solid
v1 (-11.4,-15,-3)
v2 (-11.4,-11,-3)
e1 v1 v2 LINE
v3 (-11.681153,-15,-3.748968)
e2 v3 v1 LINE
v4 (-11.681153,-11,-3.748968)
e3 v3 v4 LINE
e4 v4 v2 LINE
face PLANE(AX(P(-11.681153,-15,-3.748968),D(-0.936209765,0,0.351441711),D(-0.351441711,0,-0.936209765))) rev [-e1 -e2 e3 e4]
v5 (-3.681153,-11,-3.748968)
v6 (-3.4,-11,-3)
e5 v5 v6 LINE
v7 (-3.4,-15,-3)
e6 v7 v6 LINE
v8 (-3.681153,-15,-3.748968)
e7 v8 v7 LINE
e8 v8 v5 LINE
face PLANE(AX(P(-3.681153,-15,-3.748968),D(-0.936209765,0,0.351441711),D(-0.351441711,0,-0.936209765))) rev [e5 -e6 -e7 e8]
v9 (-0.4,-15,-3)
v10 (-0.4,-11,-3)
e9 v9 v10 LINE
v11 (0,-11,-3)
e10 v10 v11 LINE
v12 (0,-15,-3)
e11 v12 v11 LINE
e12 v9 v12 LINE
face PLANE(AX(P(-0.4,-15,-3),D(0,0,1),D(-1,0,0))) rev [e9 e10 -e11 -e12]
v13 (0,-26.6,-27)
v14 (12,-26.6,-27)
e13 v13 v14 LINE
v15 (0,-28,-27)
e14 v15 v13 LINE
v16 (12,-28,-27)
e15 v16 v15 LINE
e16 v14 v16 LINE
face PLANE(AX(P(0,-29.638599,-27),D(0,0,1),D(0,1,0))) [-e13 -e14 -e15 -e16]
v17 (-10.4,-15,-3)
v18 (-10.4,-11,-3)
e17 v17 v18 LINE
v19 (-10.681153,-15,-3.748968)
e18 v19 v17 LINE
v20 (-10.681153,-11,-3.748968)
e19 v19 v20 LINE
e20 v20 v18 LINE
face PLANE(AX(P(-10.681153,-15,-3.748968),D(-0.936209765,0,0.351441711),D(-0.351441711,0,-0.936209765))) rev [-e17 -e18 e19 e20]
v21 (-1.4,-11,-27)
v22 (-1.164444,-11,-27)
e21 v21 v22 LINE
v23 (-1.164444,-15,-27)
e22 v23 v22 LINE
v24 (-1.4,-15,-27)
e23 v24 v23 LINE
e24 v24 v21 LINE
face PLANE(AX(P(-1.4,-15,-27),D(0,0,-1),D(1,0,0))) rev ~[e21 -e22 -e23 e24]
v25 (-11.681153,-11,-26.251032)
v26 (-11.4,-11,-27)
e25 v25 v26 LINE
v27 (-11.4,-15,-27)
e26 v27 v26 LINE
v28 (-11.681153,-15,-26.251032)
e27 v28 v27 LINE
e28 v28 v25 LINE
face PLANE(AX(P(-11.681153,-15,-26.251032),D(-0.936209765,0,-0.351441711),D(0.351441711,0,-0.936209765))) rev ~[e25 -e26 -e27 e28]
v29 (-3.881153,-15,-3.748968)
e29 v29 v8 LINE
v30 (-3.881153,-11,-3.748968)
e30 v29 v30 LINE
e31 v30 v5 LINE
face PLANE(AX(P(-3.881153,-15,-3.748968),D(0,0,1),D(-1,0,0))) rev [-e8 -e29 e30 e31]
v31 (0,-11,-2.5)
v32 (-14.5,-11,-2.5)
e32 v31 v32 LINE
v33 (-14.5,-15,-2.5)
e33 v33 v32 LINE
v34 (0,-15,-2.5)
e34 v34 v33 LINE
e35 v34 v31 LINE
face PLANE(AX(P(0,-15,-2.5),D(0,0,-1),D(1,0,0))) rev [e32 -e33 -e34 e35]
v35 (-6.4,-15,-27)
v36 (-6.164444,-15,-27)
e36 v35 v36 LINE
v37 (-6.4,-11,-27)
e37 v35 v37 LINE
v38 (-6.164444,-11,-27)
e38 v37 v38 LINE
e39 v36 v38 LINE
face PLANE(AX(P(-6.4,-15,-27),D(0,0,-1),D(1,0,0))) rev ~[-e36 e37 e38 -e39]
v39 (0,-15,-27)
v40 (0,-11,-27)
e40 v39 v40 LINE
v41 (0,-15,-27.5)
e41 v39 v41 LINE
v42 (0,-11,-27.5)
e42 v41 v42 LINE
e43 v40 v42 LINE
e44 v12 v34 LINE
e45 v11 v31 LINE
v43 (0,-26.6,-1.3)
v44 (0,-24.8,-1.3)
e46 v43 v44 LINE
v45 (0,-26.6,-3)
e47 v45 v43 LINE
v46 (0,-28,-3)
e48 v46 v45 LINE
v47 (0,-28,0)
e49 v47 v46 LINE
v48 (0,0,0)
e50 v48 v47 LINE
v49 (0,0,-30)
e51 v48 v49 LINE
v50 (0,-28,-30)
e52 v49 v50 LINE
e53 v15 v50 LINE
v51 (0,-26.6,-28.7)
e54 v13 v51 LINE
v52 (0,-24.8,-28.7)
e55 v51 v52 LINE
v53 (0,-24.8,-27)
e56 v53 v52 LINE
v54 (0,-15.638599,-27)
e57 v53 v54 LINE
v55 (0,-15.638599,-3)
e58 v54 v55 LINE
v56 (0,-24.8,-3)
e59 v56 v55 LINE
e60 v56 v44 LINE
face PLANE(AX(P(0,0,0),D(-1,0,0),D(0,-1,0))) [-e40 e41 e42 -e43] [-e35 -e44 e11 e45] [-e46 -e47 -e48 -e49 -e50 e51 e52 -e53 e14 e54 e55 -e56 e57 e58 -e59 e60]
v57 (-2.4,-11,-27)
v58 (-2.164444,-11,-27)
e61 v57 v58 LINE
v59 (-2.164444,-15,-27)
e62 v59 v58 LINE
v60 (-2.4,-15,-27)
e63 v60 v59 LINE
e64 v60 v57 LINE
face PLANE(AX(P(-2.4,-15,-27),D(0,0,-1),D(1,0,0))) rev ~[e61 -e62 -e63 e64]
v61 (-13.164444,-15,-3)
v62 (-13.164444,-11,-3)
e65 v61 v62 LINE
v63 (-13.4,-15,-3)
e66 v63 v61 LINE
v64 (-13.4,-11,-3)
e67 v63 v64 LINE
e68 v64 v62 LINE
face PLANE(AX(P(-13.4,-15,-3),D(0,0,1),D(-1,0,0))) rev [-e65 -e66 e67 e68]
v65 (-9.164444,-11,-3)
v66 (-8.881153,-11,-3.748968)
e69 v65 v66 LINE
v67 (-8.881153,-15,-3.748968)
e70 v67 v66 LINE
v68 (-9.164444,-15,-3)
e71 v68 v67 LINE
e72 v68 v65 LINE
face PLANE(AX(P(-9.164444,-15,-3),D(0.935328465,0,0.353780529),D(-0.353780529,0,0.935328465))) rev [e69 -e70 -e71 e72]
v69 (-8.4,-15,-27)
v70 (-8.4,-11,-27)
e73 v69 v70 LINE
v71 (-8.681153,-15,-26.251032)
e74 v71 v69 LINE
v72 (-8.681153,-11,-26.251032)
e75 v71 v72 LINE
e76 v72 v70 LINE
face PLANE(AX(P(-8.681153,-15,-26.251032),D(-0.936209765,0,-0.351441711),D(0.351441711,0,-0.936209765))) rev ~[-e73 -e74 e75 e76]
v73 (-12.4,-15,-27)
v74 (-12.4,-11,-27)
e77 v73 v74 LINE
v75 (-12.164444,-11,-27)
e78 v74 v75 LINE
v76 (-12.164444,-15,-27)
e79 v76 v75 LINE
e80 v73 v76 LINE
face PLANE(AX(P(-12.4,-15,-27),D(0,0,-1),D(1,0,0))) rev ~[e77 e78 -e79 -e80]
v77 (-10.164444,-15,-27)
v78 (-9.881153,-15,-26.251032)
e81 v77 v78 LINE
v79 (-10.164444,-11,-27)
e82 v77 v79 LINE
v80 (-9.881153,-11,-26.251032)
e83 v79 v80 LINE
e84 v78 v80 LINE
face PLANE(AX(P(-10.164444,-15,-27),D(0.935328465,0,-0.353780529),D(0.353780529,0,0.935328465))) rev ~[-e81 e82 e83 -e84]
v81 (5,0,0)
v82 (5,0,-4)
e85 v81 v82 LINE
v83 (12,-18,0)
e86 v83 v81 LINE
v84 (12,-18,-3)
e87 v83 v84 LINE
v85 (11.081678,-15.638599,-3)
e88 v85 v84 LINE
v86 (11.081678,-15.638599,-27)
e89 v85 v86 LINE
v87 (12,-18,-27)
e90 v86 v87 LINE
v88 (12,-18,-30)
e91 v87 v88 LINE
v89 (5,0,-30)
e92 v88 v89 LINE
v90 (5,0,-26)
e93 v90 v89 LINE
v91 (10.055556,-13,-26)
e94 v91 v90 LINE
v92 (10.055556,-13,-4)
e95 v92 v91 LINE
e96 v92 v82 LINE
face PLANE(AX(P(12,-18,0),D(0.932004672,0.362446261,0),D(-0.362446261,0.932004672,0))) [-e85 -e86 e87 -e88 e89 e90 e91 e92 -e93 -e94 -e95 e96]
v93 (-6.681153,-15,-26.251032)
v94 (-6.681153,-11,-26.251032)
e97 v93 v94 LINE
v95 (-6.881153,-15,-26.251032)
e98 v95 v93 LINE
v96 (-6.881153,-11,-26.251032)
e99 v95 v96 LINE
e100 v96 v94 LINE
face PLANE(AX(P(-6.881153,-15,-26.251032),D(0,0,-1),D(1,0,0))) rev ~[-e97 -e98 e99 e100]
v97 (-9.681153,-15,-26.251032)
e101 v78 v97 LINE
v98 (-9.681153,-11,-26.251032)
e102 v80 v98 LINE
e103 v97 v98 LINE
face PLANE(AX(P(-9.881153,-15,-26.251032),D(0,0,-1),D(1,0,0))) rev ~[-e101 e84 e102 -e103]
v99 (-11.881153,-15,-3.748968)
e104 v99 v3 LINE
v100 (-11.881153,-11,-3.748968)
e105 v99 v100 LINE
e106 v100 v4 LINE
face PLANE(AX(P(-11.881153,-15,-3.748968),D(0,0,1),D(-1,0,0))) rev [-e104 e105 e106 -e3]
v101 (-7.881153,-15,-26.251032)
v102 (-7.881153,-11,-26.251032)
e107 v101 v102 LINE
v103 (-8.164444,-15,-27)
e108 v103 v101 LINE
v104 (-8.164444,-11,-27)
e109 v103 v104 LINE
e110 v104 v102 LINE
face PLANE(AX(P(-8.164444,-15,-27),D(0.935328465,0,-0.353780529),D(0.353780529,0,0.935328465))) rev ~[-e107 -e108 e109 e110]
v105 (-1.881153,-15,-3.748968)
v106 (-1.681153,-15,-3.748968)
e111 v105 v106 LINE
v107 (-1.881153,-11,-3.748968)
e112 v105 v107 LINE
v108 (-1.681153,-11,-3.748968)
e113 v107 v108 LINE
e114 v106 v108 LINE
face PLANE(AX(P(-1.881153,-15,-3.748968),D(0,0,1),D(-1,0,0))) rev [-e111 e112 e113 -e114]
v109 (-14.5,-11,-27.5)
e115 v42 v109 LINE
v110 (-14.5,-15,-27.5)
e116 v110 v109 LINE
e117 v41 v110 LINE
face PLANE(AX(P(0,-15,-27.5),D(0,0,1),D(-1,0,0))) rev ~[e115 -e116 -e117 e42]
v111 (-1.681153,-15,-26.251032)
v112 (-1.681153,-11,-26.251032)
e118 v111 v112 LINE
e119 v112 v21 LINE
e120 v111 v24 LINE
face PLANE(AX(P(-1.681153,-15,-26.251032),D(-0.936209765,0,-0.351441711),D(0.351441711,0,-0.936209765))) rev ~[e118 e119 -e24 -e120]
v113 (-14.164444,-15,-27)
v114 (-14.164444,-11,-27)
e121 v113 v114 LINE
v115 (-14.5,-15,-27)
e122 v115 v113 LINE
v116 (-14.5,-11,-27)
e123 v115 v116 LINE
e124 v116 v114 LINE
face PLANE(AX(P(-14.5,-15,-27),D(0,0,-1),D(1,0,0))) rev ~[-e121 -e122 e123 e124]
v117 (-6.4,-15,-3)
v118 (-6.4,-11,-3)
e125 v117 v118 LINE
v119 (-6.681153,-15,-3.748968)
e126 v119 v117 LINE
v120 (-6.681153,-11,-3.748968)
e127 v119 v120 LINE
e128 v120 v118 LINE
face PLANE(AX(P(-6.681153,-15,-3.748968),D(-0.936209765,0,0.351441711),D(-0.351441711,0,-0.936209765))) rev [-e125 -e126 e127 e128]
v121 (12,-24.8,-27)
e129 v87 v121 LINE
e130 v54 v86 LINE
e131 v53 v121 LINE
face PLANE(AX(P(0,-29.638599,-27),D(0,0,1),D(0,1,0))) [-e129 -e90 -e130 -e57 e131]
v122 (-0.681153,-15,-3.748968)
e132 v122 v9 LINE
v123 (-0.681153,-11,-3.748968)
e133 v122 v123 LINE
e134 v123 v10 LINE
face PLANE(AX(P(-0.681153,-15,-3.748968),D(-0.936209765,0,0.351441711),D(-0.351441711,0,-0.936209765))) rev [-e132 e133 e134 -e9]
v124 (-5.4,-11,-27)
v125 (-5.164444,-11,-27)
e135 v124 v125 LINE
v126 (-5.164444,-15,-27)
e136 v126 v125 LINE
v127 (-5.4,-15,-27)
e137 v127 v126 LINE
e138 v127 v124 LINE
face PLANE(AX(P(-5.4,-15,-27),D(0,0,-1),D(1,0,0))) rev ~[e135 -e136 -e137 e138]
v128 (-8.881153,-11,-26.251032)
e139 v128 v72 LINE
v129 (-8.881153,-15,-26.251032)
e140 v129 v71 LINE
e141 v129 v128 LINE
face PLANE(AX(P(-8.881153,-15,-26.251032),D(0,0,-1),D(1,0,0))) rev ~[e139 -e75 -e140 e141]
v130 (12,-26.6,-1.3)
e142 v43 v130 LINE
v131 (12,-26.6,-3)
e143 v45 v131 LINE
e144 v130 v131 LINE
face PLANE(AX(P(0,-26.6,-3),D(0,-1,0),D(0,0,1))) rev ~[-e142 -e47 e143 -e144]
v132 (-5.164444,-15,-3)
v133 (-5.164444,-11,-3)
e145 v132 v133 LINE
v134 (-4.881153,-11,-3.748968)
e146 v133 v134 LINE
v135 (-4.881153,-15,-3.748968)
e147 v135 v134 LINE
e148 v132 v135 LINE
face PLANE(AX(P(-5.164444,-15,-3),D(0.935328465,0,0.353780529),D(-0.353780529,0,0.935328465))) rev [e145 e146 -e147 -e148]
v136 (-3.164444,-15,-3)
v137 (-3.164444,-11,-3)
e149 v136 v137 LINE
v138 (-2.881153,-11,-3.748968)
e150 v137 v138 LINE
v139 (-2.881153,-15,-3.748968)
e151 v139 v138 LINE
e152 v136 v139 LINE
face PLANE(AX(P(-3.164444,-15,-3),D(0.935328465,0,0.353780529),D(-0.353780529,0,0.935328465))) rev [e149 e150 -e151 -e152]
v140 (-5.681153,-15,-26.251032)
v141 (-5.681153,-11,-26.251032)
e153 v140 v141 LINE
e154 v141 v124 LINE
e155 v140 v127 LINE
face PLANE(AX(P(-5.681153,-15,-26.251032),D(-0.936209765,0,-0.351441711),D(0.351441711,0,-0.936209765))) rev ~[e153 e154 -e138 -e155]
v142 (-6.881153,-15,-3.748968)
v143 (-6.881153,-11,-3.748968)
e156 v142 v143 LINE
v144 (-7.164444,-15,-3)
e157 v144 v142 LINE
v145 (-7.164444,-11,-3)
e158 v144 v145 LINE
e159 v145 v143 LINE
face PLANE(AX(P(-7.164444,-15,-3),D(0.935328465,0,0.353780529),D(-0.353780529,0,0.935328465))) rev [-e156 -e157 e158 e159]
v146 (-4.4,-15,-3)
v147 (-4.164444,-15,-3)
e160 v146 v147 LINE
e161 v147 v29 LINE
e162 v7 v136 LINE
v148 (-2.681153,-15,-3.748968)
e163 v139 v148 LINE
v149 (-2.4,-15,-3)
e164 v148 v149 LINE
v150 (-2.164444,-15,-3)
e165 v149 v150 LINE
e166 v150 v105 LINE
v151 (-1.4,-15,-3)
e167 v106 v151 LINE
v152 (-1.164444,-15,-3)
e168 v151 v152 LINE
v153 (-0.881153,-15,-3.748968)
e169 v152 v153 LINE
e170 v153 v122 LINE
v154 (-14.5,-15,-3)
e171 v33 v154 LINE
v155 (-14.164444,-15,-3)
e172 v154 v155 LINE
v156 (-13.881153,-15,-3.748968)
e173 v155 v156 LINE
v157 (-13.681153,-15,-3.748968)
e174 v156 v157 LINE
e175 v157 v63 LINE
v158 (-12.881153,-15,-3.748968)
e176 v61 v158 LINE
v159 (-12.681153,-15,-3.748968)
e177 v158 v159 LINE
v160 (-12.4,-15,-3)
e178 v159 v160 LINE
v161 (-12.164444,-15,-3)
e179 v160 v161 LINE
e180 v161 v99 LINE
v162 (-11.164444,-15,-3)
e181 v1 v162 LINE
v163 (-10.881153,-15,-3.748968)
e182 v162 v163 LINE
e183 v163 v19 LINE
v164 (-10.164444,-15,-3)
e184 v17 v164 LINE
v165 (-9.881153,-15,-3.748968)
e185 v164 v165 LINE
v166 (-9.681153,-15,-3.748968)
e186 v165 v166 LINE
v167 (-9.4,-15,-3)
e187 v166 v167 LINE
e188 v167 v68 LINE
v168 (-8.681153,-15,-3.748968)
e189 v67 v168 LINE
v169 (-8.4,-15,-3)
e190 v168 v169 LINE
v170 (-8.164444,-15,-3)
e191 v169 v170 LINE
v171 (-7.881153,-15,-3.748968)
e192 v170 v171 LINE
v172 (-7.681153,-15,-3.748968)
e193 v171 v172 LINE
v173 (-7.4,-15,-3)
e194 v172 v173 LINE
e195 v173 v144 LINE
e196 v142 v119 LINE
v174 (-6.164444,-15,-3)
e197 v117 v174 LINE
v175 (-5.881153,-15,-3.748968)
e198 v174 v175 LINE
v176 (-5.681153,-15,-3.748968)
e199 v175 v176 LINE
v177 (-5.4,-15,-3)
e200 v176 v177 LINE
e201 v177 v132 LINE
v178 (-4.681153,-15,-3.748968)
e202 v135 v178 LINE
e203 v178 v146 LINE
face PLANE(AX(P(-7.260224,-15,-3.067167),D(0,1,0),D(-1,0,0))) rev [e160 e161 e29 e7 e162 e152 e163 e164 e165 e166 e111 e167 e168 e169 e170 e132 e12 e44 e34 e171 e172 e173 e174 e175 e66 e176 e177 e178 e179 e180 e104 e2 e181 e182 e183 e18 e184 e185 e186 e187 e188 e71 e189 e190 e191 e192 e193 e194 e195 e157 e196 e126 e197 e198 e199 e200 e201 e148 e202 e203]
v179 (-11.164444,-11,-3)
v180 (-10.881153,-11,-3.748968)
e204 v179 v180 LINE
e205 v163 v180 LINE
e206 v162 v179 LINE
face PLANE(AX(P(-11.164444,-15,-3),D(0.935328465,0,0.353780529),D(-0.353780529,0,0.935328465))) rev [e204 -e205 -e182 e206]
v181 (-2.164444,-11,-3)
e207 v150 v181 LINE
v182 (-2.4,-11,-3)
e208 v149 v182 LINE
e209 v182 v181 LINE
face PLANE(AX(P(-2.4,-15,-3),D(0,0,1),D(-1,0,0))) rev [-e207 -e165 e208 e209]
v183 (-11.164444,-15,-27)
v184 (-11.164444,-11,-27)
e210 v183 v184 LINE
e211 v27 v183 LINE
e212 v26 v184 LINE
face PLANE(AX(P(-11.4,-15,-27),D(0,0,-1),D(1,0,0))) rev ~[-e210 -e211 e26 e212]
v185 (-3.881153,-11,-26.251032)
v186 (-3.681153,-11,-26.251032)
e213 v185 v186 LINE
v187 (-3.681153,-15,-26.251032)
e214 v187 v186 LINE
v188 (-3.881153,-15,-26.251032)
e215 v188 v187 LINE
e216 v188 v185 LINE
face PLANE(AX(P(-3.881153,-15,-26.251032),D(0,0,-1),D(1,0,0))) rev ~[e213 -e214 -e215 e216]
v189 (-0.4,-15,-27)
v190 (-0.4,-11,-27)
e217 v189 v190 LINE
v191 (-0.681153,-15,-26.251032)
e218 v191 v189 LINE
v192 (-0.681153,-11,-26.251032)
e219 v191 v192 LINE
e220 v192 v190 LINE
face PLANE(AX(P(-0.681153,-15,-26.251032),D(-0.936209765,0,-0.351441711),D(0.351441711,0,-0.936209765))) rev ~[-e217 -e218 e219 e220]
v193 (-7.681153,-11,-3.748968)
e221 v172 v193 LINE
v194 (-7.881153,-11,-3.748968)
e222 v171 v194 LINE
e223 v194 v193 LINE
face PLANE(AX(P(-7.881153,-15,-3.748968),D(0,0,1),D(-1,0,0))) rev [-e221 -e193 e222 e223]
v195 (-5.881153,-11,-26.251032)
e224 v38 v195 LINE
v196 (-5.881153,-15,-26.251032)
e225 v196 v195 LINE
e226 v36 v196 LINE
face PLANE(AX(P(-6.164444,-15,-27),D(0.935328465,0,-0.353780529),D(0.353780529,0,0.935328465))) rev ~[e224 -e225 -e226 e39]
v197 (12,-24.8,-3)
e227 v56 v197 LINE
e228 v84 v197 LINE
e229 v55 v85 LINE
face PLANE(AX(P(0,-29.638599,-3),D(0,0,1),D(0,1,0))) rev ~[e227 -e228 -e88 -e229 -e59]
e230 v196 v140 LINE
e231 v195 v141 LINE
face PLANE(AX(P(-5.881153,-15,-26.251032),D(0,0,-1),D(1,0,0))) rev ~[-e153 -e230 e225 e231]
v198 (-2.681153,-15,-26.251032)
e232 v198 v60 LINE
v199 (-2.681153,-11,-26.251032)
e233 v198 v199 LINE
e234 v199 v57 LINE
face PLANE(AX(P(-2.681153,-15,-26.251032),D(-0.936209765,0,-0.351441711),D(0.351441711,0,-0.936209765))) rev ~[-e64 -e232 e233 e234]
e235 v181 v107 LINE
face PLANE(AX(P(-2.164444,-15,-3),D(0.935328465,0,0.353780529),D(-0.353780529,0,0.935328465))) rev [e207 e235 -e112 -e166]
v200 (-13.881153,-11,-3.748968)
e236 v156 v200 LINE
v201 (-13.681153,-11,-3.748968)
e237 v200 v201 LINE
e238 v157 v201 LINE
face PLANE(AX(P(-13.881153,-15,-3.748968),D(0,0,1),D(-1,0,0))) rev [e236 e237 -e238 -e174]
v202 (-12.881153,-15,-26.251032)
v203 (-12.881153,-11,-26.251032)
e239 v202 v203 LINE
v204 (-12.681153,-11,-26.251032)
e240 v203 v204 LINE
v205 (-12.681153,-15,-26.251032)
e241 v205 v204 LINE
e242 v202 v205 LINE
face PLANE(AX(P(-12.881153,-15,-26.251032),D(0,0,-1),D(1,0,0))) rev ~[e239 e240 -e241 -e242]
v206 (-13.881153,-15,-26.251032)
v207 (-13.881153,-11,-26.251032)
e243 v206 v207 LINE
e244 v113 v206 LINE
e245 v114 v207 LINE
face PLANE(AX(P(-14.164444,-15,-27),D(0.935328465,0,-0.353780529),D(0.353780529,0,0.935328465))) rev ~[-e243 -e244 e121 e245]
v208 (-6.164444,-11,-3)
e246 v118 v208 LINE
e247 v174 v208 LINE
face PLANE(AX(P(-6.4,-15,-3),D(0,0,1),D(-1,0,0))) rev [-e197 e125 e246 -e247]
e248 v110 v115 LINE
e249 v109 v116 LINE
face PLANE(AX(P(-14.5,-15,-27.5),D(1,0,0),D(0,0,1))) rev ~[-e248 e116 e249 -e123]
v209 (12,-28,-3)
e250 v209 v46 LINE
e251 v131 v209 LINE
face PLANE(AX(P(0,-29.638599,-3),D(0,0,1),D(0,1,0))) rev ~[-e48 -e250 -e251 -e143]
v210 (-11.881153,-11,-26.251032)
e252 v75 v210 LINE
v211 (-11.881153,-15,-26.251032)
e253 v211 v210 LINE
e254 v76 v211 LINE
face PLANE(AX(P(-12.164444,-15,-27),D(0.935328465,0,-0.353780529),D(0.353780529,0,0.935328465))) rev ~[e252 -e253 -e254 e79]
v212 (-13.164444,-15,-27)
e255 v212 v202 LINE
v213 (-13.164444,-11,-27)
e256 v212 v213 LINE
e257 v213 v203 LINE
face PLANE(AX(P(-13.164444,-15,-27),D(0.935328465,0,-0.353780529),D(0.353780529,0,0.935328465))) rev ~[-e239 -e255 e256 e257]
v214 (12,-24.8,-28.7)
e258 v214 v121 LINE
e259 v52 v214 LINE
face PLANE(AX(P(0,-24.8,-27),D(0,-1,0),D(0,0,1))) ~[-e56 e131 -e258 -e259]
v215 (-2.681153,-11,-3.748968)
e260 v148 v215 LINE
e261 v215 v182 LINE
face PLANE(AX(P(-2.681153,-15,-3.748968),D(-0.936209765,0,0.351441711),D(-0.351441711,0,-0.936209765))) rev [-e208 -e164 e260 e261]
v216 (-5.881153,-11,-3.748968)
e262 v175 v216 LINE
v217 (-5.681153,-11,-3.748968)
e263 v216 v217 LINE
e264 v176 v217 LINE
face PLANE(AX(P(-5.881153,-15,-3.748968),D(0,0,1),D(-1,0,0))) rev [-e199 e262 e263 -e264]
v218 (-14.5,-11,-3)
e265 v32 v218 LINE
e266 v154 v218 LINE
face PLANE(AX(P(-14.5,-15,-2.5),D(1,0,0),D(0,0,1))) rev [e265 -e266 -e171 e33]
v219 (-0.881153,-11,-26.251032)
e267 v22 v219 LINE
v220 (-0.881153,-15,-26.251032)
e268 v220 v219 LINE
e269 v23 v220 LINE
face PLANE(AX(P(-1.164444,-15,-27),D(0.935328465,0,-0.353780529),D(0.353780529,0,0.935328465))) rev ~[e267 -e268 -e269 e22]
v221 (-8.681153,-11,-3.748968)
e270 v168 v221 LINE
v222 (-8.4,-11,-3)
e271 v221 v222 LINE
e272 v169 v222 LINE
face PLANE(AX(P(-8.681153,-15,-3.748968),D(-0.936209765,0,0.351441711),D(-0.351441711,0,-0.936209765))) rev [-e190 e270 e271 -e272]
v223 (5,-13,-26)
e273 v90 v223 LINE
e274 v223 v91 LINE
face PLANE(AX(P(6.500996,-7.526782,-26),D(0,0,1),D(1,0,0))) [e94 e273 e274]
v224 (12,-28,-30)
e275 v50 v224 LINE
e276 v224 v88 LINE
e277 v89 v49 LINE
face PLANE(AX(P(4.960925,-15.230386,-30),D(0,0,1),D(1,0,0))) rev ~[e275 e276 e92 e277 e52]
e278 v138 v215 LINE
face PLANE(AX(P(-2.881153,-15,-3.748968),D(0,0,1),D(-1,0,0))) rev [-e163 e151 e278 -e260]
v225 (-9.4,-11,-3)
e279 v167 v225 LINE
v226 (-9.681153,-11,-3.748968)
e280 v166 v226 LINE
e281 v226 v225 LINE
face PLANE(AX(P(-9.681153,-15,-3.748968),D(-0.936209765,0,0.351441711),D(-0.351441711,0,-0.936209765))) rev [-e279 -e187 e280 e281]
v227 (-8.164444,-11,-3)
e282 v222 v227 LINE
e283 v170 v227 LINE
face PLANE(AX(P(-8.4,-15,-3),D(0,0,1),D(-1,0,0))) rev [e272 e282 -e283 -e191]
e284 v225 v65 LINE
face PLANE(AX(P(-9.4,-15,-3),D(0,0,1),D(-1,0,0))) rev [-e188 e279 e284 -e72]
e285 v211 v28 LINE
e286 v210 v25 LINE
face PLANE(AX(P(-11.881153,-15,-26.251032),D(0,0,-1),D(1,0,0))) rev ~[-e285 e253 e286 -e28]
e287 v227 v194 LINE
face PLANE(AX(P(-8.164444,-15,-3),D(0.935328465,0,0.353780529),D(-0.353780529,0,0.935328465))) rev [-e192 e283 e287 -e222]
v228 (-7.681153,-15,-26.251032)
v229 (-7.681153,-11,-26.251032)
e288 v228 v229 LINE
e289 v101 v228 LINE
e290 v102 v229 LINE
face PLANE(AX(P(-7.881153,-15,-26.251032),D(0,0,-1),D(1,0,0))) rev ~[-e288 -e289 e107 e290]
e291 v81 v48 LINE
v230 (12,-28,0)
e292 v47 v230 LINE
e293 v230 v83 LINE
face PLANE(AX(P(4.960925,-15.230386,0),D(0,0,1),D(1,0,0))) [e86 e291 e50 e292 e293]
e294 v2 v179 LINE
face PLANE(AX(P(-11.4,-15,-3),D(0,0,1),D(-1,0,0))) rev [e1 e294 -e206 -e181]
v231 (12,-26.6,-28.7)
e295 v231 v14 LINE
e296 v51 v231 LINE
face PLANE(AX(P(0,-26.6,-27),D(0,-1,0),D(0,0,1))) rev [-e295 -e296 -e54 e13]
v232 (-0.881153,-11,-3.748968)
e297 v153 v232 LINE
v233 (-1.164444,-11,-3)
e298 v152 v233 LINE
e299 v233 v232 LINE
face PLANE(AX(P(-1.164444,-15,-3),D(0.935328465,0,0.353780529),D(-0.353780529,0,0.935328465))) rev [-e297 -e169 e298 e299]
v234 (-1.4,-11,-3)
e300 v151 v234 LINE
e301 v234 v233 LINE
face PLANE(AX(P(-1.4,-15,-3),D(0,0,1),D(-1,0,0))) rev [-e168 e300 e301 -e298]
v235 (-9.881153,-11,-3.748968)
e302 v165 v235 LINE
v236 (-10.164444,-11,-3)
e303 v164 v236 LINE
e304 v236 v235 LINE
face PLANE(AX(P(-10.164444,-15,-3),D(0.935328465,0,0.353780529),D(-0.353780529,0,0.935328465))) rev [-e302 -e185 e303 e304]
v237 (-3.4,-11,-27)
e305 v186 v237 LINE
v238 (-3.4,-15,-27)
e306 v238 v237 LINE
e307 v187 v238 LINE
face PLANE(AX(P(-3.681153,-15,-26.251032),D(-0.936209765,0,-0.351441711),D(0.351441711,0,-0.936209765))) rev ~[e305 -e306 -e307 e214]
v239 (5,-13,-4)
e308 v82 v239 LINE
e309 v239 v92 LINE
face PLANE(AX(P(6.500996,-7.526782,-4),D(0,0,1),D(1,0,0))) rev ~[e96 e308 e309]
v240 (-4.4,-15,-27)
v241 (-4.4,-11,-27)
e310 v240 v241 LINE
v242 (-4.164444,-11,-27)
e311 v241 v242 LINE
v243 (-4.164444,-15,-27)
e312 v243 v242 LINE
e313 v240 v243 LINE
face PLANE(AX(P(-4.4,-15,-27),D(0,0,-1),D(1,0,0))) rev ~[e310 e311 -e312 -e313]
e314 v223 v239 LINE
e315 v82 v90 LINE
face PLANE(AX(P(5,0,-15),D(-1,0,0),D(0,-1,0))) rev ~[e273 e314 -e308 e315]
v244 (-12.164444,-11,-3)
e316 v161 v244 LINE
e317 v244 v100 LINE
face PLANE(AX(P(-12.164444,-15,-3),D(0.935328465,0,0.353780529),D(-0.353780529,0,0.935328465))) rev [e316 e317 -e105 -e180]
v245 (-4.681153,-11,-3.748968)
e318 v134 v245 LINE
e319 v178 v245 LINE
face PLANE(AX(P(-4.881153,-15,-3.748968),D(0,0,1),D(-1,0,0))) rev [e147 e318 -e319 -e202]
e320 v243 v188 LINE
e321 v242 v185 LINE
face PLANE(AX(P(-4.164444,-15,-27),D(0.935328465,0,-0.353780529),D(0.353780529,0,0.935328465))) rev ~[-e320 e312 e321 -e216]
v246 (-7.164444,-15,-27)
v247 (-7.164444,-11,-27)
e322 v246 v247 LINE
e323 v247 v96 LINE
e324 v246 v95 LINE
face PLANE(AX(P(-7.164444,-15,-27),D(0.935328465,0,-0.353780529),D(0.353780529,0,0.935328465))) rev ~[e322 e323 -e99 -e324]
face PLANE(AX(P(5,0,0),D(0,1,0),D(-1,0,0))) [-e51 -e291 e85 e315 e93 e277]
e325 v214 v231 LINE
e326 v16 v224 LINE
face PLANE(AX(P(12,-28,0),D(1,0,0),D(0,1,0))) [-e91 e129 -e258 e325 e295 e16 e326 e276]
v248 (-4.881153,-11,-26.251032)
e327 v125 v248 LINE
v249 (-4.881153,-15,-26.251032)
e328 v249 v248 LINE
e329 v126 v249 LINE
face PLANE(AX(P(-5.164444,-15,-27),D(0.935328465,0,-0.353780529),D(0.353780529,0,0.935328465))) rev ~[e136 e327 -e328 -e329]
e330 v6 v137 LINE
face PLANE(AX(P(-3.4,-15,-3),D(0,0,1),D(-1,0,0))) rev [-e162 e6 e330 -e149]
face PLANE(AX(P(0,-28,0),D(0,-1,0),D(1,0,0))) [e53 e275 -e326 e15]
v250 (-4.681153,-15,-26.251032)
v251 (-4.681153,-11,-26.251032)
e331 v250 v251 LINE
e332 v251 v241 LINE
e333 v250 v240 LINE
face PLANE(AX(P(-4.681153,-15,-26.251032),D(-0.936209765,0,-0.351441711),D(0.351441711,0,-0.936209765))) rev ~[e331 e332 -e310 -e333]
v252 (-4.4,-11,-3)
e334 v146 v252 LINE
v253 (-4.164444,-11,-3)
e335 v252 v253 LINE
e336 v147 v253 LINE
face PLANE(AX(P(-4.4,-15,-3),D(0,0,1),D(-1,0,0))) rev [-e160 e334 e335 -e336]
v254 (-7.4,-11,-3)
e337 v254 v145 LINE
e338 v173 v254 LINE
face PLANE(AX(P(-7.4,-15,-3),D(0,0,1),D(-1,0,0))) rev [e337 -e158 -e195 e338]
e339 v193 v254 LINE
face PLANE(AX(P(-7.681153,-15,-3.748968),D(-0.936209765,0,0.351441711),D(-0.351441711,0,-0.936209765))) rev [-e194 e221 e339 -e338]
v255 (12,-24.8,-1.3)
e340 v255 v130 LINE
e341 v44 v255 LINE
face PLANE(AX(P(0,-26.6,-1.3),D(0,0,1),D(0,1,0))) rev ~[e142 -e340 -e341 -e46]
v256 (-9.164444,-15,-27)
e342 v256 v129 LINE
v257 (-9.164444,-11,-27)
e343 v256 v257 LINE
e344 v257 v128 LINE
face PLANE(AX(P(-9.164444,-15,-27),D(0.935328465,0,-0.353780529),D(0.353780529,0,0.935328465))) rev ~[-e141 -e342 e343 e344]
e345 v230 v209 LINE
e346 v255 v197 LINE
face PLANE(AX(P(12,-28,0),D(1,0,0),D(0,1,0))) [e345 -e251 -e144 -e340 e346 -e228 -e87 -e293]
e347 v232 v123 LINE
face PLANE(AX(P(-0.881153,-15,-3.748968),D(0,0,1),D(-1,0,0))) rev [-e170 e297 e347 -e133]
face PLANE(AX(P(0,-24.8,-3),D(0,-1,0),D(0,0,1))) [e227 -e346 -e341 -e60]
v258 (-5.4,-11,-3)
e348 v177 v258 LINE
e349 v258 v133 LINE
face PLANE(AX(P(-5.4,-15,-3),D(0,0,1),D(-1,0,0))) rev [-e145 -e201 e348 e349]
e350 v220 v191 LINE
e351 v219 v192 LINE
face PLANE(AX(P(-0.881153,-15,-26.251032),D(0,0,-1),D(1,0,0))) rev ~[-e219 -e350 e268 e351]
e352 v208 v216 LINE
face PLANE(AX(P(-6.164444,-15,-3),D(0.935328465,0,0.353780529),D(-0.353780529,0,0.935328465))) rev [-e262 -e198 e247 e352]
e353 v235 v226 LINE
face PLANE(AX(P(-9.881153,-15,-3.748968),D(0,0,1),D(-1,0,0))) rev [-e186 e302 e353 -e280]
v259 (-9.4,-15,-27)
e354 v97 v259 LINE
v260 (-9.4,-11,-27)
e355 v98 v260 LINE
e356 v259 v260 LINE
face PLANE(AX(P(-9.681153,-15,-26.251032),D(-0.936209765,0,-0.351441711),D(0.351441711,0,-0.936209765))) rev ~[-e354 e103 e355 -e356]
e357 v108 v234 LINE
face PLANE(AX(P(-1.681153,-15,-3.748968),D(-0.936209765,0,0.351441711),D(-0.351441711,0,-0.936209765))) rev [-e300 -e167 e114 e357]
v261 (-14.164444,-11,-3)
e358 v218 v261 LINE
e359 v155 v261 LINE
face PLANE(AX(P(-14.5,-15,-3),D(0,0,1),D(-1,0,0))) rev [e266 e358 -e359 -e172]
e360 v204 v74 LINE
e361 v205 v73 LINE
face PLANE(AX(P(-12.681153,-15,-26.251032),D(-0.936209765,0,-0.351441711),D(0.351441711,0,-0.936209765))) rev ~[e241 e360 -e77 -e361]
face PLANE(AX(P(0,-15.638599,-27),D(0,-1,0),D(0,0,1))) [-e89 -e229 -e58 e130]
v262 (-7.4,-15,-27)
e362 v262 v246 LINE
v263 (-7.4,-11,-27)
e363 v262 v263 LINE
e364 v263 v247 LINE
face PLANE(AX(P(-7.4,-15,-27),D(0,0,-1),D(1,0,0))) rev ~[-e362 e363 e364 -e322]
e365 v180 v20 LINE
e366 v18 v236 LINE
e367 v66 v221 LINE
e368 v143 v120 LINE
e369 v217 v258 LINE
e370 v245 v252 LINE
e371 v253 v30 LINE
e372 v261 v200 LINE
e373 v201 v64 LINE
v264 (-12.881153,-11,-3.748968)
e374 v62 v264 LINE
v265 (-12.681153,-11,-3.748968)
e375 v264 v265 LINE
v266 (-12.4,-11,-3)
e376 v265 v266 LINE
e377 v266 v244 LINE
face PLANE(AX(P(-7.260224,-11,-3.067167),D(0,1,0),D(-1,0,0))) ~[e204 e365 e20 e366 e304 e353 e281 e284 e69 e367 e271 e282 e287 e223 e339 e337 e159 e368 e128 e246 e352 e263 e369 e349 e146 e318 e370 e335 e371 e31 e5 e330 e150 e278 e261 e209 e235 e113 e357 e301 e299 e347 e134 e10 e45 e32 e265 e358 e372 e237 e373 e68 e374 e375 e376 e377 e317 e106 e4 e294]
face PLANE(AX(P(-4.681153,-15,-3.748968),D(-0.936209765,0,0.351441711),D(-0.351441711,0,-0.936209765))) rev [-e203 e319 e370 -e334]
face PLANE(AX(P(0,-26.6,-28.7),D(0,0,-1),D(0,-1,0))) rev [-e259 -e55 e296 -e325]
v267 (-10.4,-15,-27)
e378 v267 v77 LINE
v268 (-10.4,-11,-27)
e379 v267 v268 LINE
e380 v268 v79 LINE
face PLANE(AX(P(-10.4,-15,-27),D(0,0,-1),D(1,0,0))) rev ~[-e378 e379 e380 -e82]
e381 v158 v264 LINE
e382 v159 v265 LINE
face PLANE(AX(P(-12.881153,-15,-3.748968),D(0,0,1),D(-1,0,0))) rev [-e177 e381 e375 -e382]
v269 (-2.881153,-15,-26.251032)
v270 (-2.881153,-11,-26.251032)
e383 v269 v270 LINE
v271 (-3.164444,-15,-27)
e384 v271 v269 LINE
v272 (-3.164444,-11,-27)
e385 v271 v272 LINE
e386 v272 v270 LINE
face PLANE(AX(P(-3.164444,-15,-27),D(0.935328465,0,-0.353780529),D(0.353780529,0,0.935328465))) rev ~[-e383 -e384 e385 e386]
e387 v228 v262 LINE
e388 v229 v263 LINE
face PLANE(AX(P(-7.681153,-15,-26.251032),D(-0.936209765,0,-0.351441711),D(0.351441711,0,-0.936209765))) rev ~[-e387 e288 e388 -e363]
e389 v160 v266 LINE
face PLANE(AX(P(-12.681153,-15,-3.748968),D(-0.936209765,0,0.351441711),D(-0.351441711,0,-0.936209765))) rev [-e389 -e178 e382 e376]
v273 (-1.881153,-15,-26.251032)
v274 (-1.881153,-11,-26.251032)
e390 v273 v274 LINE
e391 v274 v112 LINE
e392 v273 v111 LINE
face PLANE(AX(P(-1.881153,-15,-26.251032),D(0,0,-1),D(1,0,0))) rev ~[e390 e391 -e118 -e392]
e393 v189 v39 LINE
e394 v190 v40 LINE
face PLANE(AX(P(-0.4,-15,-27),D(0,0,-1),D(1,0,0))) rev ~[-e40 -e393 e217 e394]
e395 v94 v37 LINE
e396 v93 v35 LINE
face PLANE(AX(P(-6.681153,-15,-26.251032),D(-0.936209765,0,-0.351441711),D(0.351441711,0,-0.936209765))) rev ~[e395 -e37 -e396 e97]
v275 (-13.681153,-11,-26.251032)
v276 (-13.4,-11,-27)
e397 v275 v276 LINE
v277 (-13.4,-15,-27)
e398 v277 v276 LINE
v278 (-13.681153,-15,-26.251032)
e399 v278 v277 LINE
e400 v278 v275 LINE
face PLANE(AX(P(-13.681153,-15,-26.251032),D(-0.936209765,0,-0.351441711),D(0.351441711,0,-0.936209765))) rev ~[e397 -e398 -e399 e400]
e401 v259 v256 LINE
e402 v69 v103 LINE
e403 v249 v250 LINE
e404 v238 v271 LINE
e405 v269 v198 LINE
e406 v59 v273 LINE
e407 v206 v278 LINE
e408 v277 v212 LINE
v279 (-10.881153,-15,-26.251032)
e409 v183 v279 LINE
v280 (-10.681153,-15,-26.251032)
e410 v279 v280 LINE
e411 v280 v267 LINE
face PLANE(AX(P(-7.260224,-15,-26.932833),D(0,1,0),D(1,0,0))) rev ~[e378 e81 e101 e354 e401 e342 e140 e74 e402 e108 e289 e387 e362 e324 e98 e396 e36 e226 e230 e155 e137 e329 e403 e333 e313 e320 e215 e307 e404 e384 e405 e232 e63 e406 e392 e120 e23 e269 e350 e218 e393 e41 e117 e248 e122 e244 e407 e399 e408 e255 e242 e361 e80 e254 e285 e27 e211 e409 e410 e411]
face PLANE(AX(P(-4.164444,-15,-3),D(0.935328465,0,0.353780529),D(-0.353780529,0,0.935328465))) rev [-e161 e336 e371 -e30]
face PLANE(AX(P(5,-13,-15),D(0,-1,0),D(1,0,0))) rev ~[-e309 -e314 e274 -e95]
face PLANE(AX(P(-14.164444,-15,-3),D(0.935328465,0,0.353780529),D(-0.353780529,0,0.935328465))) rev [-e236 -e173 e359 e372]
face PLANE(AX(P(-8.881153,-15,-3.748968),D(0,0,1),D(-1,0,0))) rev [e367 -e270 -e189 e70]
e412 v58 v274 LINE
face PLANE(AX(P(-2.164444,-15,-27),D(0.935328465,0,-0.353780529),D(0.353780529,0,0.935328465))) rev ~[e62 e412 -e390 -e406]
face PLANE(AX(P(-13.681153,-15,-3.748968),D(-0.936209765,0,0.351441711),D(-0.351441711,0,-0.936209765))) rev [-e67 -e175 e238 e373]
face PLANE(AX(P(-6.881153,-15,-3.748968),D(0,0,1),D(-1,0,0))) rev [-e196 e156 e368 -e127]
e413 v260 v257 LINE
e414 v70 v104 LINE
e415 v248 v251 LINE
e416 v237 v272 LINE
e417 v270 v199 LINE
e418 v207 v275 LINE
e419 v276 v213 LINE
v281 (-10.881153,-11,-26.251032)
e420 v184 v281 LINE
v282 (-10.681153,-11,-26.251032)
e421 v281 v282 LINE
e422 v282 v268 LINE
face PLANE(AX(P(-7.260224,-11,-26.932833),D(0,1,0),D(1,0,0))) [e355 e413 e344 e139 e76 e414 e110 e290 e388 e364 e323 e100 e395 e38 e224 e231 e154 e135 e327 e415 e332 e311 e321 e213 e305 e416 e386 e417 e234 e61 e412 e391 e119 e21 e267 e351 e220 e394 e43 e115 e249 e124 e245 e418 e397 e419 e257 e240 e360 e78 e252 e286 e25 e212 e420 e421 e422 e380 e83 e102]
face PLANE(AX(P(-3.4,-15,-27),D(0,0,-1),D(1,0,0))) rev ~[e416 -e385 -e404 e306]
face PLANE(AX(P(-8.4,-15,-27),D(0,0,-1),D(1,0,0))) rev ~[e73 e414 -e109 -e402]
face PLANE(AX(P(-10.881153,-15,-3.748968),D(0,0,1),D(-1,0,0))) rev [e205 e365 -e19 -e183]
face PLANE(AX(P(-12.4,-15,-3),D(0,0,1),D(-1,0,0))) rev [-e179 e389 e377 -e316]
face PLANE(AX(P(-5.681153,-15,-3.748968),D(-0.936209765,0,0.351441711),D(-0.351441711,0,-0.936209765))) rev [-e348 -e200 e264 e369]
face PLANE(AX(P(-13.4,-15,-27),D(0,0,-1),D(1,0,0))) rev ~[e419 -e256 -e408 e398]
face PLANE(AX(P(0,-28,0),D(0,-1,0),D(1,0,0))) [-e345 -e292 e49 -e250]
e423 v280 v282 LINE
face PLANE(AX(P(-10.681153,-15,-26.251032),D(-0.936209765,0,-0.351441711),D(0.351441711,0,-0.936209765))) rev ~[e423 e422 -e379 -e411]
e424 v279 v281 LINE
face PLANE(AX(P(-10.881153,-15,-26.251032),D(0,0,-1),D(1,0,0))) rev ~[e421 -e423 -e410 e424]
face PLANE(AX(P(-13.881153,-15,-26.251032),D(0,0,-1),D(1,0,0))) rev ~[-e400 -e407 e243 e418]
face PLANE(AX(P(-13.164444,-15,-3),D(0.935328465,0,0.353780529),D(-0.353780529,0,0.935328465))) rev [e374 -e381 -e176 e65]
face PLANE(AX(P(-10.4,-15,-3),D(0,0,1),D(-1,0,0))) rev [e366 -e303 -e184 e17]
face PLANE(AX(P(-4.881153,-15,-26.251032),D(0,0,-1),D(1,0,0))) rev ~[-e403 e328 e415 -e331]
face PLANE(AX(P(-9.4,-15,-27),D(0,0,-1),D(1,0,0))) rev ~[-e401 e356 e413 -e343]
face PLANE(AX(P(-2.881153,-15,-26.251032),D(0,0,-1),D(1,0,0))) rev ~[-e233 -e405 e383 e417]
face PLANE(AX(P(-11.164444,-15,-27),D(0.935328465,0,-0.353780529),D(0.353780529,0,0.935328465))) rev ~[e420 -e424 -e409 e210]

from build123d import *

# Parameters (mm, degrees)
BOSS_EXTRUDE1_DEPTH = 30
SKETCH4_W           = 24
SKETCH4_H           = 14
CUT_EXTRUDE2_DEPTH  = 25
SKETCH5_W           = 1.7
SKETCH5_H           = 1.8
CUT_EXTRUDE3_DEPTH  = 15
CUT_EXTRUDE4_DEPTH  = 11
BOSS_EXTRUDE2_DEPTH = 4


with BuildPart() as part:
    # Sketch1 → Boss-Extrude1 (new body)
    with BuildSketch(Plane.XY):
        Polygon((0, 0), (0, -28), (12, -28), (12, -18), (5, 0), align=None)
    extrude(amount=-BOSS_EXTRUDE1_DEPTH)

    # Sketch4 → Cut-Extrude2 (cut)
    with BuildSketch(Plane.ZY):
        with Locations((-15, -22.638599401)):
            Rectangle(SKETCH4_W, SKETCH4_H)
    extrude(amount=-CUT_EXTRUDE2_DEPTH, mode=Mode.SUBTRACT)

    # Sketch5 → Cut-Extrude3 (cut)
    with BuildSketch(Plane.ZY):
        with Locations((-2.15, -25.7)):
            Rectangle(SKETCH5_W, SKETCH5_H)
    cut_extrude3 = extrude(amount=-CUT_EXTRUDE3_DEPTH, mode=Mode.SUBTRACT)

    # Mirror1: Cut-Extrude3 across plane
    add(cut_extrude3.mirror(Plane.XY.offset(-15)), mode=Mode.SUBTRACT)

    # Sketch6 → Cut-Extrude4 (cut, symmetric)
    with BuildSketch(Plane.XY.offset(-15)):
        Polygon((5, 0), (5, -13), (10.055555556, -13), align=None)
    extrude(amount=CUT_EXTRUDE4_DEPTH, both=True, mode=Mode.SUBTRACT)

    # Sketch7 → Boss-Extrude2 (add)
    with BuildSketch(Plane(origin=(0, -15, 0), x_dir=(1, 0, 0), z_dir=(0, 1, 0))):
        Polygon((0, 27.5), (-14.5, 27.5), (-14.5, 27), (-14.164444468, 27), (-13.881153369, 26.251032188), (-13.681153369, 26.251032188), (-13.4, 27), (-13.164444468, 27), (-12.881153369, 26.251032188), (-12.681153369, 26.251032188), (-12.4, 27), (-12.164444468, 27), (-11.881153369, 26.251032188), (-11.681153369, 26.251032188), (-11.4, 27), (-11.164444468, 27), (-10.881153369, 26.251032188), (-10.681153369, 26.251032188), (-10.4, 27), (-10.164444468, 27), (-9.881153369, 26.251032188), (-9.681153369, 26.251032188), (-9.4, 27), (-9.164444468, 27), (-8.881153369, 26.251032188), (-8.681153369, 26.251032188), (-8.4, 27), (-8.164444468, 27), (-7.881153369, 26.251032188), (-7.681153369, 26.251032188), (-7.4, 27), (-7.164444468, 27), (-6.881153369, 26.251032188), (-6.681153369, 26.251032188), (-6.4, 27), (-6.164444468, 27), (-5.881153369, 26.251032188), (-5.681153369, 26.251032188), (-5.4, 27), (-5.164444468, 27), (-4.881153369, 26.251032188), (-4.681153369, 26.251032188), (-4.4, 27), (-4.164444468, 27), (-3.881153369, 26.251032188), (-3.681153369, 26.251032188), (-3.4, 27), (-3.164444468, 27), (-2.881153369, 26.251032188), (-2.681153369, 26.251032188), (-2.4, 27), (-2.164444468, 27), (-1.881153369, 26.251032188), (-1.681153369, 26.251032188), (-1.4, 27), (-1.164444468, 27), (-0.881153369, 26.251032188), (-0.681153369, 26.251032188), (-0.4, 27), (0, 27), align=None)
    boss_extrude2 = extrude(amount=BOSS_EXTRUDE2_DEPTH)

    # Mirror2: Boss-Extrude2 across plane
    add(boss_extrude2.mirror(Plane.XY.offset(-15)))


solid = part.part
